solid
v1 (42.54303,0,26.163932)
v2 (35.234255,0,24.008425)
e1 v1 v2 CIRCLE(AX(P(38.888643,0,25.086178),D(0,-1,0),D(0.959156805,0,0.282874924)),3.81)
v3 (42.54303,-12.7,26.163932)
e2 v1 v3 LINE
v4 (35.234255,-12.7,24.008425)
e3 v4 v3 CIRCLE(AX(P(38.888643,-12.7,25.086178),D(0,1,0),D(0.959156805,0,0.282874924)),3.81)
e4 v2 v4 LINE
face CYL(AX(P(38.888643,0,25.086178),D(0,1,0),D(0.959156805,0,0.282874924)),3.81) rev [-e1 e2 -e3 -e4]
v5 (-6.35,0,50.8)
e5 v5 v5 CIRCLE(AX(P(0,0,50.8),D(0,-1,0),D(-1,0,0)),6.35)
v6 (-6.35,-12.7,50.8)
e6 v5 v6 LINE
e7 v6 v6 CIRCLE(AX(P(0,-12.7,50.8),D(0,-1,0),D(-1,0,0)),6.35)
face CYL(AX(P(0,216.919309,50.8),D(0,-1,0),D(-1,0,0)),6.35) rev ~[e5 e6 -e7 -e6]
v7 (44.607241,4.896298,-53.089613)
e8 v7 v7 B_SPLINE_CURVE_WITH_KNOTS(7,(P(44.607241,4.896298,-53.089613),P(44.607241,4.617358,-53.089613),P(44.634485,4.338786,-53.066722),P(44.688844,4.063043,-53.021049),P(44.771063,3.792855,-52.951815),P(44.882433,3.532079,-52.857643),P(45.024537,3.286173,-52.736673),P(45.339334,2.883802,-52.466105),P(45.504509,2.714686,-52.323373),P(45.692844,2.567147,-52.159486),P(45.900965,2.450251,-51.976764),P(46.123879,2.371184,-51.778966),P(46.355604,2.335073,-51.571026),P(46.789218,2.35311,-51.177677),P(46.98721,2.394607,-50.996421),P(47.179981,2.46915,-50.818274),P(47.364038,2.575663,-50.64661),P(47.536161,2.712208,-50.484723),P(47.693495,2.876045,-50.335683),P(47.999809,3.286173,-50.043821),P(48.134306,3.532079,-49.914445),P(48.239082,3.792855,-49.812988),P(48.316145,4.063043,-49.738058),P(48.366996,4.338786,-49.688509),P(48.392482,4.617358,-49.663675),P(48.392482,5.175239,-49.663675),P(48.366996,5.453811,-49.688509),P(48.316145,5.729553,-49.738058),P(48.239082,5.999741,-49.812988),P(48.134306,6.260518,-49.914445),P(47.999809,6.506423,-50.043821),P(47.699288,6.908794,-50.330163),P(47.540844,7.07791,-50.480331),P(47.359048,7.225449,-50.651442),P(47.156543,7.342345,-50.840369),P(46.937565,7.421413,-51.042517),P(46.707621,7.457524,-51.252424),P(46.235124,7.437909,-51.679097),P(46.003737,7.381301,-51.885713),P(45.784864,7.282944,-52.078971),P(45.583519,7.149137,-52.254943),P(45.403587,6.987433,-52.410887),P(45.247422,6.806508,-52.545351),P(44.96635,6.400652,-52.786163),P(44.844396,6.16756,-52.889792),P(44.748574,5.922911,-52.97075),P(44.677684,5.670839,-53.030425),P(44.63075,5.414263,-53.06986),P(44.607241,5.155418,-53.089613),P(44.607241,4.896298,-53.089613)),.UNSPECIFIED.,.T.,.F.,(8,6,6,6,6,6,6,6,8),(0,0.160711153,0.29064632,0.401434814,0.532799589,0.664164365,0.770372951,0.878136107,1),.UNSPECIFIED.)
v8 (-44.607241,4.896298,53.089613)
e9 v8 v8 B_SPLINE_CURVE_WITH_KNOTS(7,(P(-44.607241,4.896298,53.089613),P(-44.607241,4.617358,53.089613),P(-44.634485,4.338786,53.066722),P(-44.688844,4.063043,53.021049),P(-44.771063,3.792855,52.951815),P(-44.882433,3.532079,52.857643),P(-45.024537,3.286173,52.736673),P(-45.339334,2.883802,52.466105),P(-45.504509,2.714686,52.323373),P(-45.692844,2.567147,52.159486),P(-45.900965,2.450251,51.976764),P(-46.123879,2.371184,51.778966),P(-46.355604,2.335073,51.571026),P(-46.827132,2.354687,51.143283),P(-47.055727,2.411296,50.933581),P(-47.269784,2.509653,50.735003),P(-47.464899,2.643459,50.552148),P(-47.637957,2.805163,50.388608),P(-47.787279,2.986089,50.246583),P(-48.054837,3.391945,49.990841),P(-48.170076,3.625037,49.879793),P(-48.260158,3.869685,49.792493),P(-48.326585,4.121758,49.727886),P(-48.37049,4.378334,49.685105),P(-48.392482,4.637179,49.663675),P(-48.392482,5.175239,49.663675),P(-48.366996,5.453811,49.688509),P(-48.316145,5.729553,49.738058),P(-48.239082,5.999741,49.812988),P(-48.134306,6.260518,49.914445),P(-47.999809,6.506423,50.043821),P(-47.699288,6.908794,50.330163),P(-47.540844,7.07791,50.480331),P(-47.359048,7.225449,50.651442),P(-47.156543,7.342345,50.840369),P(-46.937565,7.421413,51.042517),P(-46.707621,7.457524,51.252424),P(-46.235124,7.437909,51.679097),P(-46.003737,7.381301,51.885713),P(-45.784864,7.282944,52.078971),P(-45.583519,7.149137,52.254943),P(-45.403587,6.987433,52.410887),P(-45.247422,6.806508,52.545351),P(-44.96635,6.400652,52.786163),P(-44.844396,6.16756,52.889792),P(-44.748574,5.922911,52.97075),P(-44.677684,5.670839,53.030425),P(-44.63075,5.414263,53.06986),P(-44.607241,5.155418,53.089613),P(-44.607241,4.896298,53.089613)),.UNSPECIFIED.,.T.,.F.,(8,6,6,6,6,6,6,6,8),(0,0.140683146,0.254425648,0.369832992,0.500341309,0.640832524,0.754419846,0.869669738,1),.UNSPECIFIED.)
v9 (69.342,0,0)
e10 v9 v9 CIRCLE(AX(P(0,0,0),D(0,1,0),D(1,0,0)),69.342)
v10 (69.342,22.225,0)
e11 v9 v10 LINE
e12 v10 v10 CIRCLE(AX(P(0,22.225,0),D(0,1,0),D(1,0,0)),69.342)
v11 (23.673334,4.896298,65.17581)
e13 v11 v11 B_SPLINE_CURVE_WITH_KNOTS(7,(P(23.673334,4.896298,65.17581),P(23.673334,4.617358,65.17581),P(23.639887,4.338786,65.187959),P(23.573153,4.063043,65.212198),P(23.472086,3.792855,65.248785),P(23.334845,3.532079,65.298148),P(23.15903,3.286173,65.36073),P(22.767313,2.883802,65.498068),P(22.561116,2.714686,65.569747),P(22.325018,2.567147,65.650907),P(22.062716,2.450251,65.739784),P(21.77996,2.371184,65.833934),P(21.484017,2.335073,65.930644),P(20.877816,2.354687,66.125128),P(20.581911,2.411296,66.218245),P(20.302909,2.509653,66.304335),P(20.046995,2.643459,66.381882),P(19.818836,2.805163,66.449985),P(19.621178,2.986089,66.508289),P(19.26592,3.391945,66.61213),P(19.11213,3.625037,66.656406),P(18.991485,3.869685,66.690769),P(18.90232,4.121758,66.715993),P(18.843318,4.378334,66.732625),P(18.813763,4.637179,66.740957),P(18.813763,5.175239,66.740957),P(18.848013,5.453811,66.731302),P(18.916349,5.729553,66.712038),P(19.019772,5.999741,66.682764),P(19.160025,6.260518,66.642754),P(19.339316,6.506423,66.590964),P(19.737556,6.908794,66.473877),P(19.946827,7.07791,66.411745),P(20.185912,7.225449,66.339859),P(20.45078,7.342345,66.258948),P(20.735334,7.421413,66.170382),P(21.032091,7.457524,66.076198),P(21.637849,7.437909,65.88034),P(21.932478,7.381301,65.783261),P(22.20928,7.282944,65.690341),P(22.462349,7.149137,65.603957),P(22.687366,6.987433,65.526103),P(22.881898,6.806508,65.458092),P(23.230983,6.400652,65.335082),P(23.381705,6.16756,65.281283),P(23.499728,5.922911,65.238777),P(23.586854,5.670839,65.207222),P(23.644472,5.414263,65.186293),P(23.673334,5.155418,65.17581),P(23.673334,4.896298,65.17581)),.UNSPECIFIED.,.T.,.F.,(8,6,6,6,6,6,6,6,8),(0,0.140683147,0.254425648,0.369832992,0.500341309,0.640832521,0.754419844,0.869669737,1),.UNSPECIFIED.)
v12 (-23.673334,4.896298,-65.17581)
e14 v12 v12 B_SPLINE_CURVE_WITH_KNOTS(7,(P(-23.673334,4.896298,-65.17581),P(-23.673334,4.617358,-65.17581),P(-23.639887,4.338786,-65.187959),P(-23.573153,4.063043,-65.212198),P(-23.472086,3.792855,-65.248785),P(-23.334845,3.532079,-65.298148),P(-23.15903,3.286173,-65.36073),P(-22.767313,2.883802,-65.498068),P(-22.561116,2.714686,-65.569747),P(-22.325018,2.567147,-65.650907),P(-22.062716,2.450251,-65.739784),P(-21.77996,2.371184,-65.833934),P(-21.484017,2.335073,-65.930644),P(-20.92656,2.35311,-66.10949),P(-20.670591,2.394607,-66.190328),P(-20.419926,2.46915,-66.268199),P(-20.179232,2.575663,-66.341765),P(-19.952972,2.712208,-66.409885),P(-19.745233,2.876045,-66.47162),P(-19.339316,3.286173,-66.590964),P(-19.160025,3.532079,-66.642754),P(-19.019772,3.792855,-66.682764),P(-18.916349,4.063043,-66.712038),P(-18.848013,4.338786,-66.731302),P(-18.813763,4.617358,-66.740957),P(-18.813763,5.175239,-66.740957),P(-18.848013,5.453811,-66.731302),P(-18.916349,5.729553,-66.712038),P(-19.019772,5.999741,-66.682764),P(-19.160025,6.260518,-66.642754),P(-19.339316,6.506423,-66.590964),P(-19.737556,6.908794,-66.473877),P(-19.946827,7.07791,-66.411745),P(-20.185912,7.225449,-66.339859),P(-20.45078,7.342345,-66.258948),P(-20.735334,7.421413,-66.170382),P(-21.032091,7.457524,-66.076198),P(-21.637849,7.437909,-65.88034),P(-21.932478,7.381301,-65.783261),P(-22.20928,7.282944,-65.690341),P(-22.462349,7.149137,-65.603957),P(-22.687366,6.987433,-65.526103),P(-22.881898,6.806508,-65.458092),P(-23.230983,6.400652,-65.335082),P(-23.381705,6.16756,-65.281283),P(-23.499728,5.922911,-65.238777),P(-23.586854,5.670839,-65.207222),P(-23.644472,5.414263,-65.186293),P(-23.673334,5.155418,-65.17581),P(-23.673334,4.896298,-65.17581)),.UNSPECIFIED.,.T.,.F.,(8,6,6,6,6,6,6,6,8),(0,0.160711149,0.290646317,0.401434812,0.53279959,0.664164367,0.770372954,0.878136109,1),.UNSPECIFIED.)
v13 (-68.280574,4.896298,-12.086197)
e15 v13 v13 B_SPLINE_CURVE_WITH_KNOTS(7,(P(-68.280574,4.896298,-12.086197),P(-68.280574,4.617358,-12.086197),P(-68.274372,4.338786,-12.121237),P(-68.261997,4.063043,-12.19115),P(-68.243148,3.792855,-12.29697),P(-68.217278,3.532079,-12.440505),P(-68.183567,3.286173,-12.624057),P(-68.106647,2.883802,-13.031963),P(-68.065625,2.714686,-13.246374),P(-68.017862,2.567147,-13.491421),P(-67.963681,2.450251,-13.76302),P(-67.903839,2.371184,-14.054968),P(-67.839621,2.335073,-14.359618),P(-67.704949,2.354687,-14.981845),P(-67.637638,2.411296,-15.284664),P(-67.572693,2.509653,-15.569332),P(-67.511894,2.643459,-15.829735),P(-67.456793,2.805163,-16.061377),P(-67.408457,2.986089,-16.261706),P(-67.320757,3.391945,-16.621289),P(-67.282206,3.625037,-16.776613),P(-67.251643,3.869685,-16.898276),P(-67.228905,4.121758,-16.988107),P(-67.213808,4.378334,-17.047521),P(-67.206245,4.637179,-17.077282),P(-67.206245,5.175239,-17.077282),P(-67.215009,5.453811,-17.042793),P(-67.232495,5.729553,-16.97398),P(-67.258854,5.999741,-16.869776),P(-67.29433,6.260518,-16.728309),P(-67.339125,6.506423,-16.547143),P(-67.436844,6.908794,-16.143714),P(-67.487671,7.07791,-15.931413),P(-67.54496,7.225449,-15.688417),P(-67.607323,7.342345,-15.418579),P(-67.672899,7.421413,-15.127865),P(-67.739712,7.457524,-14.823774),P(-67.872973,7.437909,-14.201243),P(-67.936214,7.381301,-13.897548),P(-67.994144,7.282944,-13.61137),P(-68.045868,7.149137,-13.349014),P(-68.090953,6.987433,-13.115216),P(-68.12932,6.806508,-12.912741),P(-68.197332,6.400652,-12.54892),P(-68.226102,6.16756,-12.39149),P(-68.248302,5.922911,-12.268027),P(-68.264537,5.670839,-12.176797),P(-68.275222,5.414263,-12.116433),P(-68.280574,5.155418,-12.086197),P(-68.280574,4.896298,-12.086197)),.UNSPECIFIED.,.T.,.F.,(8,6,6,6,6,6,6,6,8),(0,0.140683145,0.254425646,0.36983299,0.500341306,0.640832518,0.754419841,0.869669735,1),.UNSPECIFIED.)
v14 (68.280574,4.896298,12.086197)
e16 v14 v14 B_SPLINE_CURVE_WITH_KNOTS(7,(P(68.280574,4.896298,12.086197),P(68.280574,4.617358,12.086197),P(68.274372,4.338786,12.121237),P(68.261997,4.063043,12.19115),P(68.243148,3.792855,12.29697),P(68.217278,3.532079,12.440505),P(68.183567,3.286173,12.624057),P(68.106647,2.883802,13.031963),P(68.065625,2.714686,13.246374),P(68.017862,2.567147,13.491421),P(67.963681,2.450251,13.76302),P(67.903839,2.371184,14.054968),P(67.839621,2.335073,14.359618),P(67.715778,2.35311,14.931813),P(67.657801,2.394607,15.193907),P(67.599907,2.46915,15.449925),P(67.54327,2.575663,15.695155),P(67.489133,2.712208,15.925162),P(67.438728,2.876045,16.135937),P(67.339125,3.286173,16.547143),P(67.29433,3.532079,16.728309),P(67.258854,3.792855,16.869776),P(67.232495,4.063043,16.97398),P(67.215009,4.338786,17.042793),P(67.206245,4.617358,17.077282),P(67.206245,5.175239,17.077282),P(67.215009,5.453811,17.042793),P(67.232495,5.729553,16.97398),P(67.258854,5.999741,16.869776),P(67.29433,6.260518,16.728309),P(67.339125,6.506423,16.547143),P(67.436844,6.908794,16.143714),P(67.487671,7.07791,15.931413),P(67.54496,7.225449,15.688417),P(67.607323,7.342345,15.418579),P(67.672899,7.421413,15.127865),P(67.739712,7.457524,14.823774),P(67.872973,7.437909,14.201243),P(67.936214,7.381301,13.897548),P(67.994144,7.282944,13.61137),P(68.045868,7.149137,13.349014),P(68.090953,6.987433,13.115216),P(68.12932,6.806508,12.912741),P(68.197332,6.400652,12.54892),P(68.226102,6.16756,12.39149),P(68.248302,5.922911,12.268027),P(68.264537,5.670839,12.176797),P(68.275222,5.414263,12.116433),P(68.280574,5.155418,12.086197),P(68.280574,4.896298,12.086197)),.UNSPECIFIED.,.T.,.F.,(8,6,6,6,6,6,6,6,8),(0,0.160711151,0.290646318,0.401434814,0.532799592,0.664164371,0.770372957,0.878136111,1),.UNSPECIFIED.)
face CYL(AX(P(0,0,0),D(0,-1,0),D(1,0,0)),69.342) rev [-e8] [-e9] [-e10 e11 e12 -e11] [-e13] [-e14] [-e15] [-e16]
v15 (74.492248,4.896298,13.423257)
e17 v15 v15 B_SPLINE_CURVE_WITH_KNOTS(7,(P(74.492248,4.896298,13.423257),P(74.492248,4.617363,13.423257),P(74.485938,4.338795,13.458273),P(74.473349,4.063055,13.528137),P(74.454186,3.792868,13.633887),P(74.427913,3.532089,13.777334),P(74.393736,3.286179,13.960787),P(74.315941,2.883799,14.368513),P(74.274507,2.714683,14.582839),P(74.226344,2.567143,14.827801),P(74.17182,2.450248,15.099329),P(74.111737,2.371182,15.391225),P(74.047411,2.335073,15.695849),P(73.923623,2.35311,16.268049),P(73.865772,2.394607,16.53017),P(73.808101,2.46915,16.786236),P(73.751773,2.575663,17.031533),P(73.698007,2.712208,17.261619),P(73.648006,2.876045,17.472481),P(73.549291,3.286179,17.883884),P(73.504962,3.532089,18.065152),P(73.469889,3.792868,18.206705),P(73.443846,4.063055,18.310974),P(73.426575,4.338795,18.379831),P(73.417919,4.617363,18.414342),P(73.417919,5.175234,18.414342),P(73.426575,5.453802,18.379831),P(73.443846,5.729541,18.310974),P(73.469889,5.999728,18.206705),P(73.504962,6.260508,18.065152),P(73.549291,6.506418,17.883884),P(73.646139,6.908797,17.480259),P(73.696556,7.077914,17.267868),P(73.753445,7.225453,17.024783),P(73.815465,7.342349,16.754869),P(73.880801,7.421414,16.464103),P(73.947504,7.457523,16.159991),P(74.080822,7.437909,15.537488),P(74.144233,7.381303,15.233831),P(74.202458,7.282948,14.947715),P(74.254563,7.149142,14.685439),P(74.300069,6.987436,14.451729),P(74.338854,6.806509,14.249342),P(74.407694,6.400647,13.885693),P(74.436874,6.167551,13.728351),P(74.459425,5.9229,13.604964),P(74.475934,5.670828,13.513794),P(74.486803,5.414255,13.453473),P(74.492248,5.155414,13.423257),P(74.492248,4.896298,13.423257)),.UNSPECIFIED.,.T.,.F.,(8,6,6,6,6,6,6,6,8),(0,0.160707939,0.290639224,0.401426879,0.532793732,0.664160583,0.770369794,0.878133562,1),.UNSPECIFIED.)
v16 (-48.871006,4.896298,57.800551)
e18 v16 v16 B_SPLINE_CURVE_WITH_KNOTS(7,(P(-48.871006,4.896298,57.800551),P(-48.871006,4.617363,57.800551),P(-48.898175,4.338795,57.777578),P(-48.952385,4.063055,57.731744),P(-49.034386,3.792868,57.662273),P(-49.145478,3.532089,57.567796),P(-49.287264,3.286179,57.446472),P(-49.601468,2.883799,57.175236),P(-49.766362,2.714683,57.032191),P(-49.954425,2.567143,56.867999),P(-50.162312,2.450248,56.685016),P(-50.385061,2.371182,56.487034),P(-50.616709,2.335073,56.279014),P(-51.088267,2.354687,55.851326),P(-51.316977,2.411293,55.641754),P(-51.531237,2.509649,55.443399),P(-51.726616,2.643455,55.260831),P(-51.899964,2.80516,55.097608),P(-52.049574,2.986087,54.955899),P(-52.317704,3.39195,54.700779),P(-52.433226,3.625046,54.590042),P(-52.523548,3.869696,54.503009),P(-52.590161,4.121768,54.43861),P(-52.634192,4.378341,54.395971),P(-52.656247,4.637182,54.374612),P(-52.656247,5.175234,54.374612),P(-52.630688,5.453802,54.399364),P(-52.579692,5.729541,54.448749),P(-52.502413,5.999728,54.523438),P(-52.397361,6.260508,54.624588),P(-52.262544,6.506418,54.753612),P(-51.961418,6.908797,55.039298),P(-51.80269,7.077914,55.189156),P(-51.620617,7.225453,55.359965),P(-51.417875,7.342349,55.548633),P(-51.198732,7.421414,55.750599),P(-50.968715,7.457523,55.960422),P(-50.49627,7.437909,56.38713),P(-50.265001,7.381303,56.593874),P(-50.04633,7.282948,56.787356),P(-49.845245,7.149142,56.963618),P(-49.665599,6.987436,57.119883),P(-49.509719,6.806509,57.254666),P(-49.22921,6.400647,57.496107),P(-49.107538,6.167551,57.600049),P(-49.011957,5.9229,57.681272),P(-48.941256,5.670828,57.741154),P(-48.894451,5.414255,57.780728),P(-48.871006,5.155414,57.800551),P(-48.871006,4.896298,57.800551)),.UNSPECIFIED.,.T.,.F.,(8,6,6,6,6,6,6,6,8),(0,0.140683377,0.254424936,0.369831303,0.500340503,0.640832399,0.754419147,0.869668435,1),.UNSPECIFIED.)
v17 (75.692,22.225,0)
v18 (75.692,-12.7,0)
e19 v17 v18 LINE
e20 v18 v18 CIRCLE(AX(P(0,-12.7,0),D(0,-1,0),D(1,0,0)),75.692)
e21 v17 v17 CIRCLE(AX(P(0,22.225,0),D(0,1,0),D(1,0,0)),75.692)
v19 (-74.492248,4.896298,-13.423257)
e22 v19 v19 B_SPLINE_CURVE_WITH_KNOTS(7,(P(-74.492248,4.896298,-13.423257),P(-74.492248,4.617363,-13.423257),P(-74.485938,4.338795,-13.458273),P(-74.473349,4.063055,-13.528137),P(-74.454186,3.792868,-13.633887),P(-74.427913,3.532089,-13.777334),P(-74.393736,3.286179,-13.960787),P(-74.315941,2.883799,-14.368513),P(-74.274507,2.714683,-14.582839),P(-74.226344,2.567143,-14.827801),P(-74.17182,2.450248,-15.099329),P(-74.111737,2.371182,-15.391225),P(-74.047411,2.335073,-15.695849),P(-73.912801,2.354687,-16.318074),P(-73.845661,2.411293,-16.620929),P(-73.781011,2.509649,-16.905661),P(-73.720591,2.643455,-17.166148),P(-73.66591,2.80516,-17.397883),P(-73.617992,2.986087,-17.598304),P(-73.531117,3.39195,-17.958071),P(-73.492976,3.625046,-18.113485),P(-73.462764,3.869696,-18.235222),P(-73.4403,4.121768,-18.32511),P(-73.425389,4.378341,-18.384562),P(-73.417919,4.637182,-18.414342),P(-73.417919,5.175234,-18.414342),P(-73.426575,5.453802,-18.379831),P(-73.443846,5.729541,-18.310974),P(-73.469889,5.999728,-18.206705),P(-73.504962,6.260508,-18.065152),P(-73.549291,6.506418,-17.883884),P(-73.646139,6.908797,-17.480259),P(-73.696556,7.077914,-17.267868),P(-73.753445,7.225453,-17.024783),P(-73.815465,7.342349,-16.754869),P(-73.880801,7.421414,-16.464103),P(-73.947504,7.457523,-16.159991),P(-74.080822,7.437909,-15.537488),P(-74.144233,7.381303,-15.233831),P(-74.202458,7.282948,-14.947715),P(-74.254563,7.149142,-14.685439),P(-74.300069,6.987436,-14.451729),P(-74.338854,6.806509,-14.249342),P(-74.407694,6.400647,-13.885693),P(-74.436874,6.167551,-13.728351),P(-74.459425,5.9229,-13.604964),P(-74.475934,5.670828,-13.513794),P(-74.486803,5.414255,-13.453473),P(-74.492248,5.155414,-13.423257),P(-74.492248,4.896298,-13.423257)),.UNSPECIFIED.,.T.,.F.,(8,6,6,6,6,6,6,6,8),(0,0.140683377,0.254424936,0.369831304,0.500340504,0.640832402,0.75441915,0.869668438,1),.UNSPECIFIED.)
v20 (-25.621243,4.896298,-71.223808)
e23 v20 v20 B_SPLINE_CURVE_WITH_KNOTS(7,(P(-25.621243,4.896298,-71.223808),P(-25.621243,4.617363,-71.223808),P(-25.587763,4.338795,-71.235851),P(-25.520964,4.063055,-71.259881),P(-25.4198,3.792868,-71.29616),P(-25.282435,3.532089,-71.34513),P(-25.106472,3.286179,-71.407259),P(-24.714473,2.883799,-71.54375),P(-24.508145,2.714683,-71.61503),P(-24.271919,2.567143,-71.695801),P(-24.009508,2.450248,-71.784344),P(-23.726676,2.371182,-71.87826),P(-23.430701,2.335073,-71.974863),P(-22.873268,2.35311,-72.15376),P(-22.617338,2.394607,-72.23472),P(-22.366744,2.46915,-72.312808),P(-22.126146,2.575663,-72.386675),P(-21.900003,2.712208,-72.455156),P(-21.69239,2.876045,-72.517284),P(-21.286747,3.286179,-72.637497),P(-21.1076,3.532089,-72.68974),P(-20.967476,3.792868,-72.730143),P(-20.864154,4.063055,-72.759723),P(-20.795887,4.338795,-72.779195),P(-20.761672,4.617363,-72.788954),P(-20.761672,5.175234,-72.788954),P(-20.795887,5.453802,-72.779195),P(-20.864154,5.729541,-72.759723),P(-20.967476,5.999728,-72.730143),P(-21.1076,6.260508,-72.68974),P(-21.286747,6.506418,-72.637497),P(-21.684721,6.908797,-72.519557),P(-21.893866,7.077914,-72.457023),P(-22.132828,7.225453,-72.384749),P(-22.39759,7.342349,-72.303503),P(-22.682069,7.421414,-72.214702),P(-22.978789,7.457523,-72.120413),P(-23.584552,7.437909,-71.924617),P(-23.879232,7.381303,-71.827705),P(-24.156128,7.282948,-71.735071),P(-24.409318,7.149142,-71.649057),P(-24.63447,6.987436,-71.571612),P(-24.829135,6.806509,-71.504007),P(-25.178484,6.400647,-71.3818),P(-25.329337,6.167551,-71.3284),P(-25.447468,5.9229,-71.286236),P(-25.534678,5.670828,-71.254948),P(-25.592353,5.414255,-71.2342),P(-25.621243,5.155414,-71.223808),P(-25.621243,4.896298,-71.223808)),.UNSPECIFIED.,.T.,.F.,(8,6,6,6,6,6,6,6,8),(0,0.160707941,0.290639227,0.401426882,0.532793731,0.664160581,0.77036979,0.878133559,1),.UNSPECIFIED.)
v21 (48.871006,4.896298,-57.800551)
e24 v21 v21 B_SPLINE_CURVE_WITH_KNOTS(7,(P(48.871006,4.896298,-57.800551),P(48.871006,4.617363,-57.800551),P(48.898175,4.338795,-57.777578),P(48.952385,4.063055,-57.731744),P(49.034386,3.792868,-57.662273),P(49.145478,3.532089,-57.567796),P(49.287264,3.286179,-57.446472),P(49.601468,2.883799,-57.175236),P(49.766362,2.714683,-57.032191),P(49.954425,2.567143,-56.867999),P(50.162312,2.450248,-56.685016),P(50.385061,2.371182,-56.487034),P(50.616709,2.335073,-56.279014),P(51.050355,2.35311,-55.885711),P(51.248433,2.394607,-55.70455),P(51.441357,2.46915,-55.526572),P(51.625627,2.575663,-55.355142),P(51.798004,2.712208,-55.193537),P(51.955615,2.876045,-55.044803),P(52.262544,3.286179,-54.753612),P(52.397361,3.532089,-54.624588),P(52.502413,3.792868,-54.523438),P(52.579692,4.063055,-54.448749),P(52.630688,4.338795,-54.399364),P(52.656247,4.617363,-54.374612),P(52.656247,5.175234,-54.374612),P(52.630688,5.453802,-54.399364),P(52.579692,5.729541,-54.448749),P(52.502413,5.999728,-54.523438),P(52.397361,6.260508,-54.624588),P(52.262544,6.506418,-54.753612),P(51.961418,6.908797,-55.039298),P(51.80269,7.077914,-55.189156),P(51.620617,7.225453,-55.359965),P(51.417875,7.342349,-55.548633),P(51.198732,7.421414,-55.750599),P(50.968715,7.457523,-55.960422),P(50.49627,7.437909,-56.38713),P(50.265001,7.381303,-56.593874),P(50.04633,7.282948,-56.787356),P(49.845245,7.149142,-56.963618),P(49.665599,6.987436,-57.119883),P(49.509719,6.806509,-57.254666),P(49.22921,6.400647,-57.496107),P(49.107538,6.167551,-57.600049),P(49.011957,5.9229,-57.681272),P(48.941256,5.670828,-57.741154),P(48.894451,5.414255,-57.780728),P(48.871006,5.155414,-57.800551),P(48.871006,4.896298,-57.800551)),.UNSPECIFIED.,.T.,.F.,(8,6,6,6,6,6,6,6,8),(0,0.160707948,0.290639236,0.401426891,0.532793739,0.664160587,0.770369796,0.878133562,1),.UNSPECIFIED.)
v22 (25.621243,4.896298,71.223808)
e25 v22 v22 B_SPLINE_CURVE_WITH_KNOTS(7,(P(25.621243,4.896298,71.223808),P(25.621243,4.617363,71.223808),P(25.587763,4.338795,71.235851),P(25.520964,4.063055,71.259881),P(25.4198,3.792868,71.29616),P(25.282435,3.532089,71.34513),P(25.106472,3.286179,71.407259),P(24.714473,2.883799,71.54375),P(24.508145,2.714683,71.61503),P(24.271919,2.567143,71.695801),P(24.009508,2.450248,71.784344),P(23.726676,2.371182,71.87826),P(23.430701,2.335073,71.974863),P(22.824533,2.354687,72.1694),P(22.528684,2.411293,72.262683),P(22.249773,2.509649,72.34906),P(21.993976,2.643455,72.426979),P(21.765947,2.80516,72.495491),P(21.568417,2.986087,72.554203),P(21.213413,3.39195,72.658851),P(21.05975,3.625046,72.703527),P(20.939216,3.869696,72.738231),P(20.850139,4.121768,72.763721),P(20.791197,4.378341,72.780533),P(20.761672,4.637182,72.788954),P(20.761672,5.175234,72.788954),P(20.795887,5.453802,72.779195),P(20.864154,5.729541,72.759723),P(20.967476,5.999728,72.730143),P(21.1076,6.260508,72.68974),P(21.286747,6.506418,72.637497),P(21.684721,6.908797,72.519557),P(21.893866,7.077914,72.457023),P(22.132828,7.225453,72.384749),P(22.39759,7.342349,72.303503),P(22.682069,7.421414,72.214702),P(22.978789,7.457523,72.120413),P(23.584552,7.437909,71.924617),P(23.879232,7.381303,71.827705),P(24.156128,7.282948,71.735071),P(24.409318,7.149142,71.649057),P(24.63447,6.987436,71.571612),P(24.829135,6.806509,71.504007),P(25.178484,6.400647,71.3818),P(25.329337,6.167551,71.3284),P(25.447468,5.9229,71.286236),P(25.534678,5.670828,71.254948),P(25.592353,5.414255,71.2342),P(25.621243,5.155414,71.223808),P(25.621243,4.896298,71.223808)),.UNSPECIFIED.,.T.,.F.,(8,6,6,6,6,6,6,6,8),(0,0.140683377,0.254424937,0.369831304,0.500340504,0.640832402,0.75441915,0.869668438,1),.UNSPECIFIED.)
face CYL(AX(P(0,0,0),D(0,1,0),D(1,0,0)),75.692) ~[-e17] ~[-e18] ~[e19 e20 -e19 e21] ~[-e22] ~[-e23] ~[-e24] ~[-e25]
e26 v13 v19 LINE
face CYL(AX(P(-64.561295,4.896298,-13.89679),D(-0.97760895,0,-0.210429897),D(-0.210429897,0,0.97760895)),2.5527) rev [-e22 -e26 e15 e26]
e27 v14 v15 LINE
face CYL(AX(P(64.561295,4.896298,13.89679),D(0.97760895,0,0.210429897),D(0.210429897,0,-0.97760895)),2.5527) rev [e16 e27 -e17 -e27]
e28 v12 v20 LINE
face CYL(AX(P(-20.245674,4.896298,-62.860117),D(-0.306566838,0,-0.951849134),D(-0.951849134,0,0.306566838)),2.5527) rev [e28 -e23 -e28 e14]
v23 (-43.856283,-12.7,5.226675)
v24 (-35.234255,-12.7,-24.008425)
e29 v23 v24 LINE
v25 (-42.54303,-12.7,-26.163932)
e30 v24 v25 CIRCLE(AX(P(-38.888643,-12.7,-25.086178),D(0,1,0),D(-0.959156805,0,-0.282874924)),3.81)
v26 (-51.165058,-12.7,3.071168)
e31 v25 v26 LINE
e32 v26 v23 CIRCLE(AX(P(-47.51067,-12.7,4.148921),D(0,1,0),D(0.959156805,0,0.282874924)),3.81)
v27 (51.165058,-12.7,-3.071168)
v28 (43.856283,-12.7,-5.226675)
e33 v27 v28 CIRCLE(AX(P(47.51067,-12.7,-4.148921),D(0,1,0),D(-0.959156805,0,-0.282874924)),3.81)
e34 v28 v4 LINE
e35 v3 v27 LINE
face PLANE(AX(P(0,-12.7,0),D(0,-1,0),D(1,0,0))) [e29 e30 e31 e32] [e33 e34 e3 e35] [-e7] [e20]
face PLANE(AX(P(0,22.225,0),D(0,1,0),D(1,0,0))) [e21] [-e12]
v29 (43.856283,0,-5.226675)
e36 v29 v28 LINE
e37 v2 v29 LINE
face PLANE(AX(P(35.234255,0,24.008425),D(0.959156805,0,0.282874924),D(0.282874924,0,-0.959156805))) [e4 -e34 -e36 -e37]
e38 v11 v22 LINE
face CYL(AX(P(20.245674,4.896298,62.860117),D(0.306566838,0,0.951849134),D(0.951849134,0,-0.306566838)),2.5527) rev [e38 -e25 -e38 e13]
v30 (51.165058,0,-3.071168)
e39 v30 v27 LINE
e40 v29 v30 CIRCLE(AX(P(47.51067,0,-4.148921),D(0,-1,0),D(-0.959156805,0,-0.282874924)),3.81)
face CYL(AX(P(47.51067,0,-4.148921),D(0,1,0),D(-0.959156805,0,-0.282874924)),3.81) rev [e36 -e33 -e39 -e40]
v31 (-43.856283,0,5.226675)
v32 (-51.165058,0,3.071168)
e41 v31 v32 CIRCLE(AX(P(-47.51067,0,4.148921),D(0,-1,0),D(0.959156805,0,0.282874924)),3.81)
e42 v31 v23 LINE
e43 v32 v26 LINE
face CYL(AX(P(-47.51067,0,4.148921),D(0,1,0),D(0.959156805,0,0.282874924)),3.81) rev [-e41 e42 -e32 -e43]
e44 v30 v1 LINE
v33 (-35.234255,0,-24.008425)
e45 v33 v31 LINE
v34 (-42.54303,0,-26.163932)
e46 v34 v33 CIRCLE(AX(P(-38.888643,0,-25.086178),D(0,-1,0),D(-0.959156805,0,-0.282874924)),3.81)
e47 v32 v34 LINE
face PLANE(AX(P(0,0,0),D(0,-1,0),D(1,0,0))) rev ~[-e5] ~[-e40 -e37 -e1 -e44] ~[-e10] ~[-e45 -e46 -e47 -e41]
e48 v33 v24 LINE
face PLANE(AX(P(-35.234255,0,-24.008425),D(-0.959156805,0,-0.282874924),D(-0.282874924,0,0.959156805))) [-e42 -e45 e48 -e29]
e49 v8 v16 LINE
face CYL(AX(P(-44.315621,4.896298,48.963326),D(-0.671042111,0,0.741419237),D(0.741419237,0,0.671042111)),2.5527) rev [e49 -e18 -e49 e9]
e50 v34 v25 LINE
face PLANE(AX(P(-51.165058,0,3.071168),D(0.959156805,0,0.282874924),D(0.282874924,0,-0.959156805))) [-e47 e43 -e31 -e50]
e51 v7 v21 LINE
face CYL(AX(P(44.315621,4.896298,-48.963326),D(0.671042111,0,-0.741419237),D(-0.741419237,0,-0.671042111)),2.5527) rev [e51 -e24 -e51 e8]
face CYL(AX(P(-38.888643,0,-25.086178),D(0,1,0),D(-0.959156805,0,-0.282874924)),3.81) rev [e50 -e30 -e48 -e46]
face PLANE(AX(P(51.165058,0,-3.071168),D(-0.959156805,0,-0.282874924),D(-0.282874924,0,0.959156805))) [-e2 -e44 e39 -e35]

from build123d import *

# Parameters (mm, degrees)
SKETCH1_R                            = 75.692
SKETCH1_R_2                          = 69.342
BOSS_EXTRUDE1_DEPTH                  = 22.225
SKETCH2_R                            = 75.692
BOSS_EXTRUDE2_DEPTH                  = 12.7
TAP_DRILL_FOR_1_4_20_TAP1_AT_2_COUNT = 2
TAP_DRILL_FOR_1_4_20_TAP1_AT_2_PITCH = 53.488399339
CIRPATTERN1_COUNT                    = 6
F_1_2_0_5_DIAMETER_HOLE1_D           = 12.7
CUT_EXTRUDE1_DEPTH                   = 13.7000001


with BuildPart() as part:
    # Sketch1 → Boss-Extrude1 (new body)
    with BuildSketch(Plane(origin=(0, 0, 0), x_dir=(1, 0, 0), z_dir=(0, 1, 0))):
        Circle(SKETCH1_R)
        Circle(SKETCH1_R_2, mode=Mode.SUBTRACT)
    extrude(amount=BOSS_EXTRUDE1_DEPTH)

    # Sketch2 → Boss-Extrude2 (add)
    with BuildSketch(Plane.XZ):
        Circle(SKETCH2_R)
    extrude(amount=BOSS_EXTRUDE2_DEPTH)

    # Sketch4 → Tap Drill for 1/4-20 Tap1 (revolve, cut)
    with BuildSketch(Plane(origin=(73.997176623, 4.896298223, 15.927859738), x_dir=(0.210429897, 0, -0.97760895), z_dir=(0, 1, 0))):
        Polygon((0, 0), (0, 11.185816902), (2.5527, 9.652), (2.5527, 0), align=None)
    tap_drill_for_1_4_20_tap1 = revolve(axis=Axis((80.204993454, 4.896298223, 17.264089582), (-0.97760895, 0, -0.210429897)), mode=Mode.SUBTRACT)

    # Tap Drill for 1/4-20 Tap1 at 2: Tap Drill for 1/4-20 Tap1 ×2
    with Locations(*[Vector(-0.110438581, 0.851210999, 0.51307227) * (i * TAP_DRILL_FOR_1_4_20_TAP1_AT_2_PITCH) for i in range(1, TAP_DRILL_FOR_1_4_20_TAP1_AT_2_COUNT)]):
        add(tap_drill_for_1_4_20_tap1, mode=Mode.SUBTRACT)

    # CirPattern1: Tap Drill for 1/4-20 Tap1 ×6 about axis
    cirpattern1_axis = Axis((0, 22.225, 0), (0, -1, 0))
    for i in range(1, CIRPATTERN1_COUNT):
        add(tap_drill_for_1_4_20_tap1.rotate(cirpattern1_axis, i * 360 / CIRPATTERN1_COUNT), mode=Mode.SUBTRACT)

    # CirPattern1 copy 1 sketch → CirPattern1 copy 1 (revolve, cut)
    with BuildSketch(Plane(origin=(-3.515628412, 50.426212075, 80.653301416), x_dir=(0.951849134, 0, -0.306566839), z_dir=(0, 1, 0))):
        Polygon((0, 0), (0, 11.185816902), (2.5527, 9.652), (2.5527, 0), align=None)
    revolve(axis=Axis((-1.568928987, 50.426212075, 86.697543415), (-0.306566839, 0, -0.951849134)), mode=Mode.SUBTRACT)

    # CirPattern1 copy 2 sketch → CirPattern1 copy 2 (revolve, cut)
    with BuildSketch(Plane(origin=(-71.605622131, 50.426212075, 37.282027193), x_dir=(0.741419237, 0, 0.671042111), z_dir=(0, 1, 0))):
        Polygon((0, 0), (0, 11.185816902), (2.5527, 9.652), (2.5527, 0), align=None)
    revolve(axis=Axis((-75.866739537, 50.426212075, 41.990039348), (0.671042111, 0, -0.741419237)), mode=Mode.SUBTRACT)

    # CirPattern1 copy 3 sketch → CirPattern1 copy 3 (revolve, cut)
    with BuildSketch(Plane(origin=(-68.089993719, 50.426212075, -43.371274223), x_dir=(-0.210429897, 0, 0.97760895), z_dir=(0, 1, 0))):
        Polygon((0, 0), (0, 11.185816902), (2.5527, 9.652), (2.5527, 0), align=None)
    revolve(axis=Axis((-74.29781055, 50.426212075, -44.707504067), (0.97760895, 0, 0.210429897)), mode=Mode.SUBTRACT)

    # CirPattern1 copy 4 sketch → CirPattern1 copy 4 (revolve, cut)
    with BuildSketch(Plane(origin=(3.515628412, 50.426212075, -80.653301416), x_dir=(-0.951849134, 0, 0.306566839), z_dir=(0, 1, 0))):
        Polygon((0, 0), (0, 11.185816902), (2.5527, 9.652), (2.5527, 0), align=None)
    revolve(axis=Axis((1.568928987, 50.426212075, -86.697543415), (0.306566839, 0, 0.951849134)), mode=Mode.SUBTRACT)

    # CirPattern1 copy 5 sketch → CirPattern1 copy 5 (revolve, cut)
    with BuildSketch(Plane(origin=(71.605622131, 50.426212075, -37.282027193), x_dir=(-0.741419237, 0, -0.671042111), z_dir=(0, 1, 0))):
        Polygon((0, 0), (0, 11.185816902), (2.5527, 9.652), (2.5527, 0), align=None)
    revolve(axis=Axis((75.866739537, 50.426212075, -41.990039348), (-0.671042111, 0, 0.741419237)), mode=Mode.SUBTRACT)

    # 1/2 (0.5) Diameter Hole1 (through all)
    with Locations(Plane(origin=(0, 0, 0), x_dir=(1, 0, 0), z_dir=(0, 1, 0))):
        with Locations((0, -50.8)):
            Hole(F_1_2_0_5_DIAMETER_HOLE1_D / 2)

    # Sketch11 → Cut-Extrude1 (cut, through all)
    with BuildSketch(Plane(origin=(0, 0, 0), x_dir=(1, 0, 0), z_dir=(0, 1, 0))):
        with BuildLine():
            Line((-51.165057741, -3.071167846), (-42.54303006, 26.163931584))
            ThreePointArc((-42.54303006, 26.163931584), (-37.810889171, 28.740565552), (-35.234255202, 24.008424663))
            Line((-35.234255202, 24.008424663), (-43.856282883, -5.226674766))
            ThreePointArc((-43.856282883, -5.226674766), (-48.588423772, -7.803308735), (-51.165057741, -3.071167846))
        make_face()
        with BuildLine():
            Line((35.234255202, -24.008424663), (43.856282883, 5.226674766))
            ThreePointArc((43.856282883, 5.226674766), (48.588423772, 7.803308735), (51.165057741, 3.071167846))
            Line((51.165057741, 3.071167846), (42.54303006, -26.163931584))
            ThreePointArc((42.54303006, -26.163931584), (37.810889171, -28.740565552), (35.234255202, -24.008424663))
        make_face()
    extrude(amount=-CUT_EXTRUDE1_DEPTH, mode=Mode.SUBTRACT)


solid = part.part
